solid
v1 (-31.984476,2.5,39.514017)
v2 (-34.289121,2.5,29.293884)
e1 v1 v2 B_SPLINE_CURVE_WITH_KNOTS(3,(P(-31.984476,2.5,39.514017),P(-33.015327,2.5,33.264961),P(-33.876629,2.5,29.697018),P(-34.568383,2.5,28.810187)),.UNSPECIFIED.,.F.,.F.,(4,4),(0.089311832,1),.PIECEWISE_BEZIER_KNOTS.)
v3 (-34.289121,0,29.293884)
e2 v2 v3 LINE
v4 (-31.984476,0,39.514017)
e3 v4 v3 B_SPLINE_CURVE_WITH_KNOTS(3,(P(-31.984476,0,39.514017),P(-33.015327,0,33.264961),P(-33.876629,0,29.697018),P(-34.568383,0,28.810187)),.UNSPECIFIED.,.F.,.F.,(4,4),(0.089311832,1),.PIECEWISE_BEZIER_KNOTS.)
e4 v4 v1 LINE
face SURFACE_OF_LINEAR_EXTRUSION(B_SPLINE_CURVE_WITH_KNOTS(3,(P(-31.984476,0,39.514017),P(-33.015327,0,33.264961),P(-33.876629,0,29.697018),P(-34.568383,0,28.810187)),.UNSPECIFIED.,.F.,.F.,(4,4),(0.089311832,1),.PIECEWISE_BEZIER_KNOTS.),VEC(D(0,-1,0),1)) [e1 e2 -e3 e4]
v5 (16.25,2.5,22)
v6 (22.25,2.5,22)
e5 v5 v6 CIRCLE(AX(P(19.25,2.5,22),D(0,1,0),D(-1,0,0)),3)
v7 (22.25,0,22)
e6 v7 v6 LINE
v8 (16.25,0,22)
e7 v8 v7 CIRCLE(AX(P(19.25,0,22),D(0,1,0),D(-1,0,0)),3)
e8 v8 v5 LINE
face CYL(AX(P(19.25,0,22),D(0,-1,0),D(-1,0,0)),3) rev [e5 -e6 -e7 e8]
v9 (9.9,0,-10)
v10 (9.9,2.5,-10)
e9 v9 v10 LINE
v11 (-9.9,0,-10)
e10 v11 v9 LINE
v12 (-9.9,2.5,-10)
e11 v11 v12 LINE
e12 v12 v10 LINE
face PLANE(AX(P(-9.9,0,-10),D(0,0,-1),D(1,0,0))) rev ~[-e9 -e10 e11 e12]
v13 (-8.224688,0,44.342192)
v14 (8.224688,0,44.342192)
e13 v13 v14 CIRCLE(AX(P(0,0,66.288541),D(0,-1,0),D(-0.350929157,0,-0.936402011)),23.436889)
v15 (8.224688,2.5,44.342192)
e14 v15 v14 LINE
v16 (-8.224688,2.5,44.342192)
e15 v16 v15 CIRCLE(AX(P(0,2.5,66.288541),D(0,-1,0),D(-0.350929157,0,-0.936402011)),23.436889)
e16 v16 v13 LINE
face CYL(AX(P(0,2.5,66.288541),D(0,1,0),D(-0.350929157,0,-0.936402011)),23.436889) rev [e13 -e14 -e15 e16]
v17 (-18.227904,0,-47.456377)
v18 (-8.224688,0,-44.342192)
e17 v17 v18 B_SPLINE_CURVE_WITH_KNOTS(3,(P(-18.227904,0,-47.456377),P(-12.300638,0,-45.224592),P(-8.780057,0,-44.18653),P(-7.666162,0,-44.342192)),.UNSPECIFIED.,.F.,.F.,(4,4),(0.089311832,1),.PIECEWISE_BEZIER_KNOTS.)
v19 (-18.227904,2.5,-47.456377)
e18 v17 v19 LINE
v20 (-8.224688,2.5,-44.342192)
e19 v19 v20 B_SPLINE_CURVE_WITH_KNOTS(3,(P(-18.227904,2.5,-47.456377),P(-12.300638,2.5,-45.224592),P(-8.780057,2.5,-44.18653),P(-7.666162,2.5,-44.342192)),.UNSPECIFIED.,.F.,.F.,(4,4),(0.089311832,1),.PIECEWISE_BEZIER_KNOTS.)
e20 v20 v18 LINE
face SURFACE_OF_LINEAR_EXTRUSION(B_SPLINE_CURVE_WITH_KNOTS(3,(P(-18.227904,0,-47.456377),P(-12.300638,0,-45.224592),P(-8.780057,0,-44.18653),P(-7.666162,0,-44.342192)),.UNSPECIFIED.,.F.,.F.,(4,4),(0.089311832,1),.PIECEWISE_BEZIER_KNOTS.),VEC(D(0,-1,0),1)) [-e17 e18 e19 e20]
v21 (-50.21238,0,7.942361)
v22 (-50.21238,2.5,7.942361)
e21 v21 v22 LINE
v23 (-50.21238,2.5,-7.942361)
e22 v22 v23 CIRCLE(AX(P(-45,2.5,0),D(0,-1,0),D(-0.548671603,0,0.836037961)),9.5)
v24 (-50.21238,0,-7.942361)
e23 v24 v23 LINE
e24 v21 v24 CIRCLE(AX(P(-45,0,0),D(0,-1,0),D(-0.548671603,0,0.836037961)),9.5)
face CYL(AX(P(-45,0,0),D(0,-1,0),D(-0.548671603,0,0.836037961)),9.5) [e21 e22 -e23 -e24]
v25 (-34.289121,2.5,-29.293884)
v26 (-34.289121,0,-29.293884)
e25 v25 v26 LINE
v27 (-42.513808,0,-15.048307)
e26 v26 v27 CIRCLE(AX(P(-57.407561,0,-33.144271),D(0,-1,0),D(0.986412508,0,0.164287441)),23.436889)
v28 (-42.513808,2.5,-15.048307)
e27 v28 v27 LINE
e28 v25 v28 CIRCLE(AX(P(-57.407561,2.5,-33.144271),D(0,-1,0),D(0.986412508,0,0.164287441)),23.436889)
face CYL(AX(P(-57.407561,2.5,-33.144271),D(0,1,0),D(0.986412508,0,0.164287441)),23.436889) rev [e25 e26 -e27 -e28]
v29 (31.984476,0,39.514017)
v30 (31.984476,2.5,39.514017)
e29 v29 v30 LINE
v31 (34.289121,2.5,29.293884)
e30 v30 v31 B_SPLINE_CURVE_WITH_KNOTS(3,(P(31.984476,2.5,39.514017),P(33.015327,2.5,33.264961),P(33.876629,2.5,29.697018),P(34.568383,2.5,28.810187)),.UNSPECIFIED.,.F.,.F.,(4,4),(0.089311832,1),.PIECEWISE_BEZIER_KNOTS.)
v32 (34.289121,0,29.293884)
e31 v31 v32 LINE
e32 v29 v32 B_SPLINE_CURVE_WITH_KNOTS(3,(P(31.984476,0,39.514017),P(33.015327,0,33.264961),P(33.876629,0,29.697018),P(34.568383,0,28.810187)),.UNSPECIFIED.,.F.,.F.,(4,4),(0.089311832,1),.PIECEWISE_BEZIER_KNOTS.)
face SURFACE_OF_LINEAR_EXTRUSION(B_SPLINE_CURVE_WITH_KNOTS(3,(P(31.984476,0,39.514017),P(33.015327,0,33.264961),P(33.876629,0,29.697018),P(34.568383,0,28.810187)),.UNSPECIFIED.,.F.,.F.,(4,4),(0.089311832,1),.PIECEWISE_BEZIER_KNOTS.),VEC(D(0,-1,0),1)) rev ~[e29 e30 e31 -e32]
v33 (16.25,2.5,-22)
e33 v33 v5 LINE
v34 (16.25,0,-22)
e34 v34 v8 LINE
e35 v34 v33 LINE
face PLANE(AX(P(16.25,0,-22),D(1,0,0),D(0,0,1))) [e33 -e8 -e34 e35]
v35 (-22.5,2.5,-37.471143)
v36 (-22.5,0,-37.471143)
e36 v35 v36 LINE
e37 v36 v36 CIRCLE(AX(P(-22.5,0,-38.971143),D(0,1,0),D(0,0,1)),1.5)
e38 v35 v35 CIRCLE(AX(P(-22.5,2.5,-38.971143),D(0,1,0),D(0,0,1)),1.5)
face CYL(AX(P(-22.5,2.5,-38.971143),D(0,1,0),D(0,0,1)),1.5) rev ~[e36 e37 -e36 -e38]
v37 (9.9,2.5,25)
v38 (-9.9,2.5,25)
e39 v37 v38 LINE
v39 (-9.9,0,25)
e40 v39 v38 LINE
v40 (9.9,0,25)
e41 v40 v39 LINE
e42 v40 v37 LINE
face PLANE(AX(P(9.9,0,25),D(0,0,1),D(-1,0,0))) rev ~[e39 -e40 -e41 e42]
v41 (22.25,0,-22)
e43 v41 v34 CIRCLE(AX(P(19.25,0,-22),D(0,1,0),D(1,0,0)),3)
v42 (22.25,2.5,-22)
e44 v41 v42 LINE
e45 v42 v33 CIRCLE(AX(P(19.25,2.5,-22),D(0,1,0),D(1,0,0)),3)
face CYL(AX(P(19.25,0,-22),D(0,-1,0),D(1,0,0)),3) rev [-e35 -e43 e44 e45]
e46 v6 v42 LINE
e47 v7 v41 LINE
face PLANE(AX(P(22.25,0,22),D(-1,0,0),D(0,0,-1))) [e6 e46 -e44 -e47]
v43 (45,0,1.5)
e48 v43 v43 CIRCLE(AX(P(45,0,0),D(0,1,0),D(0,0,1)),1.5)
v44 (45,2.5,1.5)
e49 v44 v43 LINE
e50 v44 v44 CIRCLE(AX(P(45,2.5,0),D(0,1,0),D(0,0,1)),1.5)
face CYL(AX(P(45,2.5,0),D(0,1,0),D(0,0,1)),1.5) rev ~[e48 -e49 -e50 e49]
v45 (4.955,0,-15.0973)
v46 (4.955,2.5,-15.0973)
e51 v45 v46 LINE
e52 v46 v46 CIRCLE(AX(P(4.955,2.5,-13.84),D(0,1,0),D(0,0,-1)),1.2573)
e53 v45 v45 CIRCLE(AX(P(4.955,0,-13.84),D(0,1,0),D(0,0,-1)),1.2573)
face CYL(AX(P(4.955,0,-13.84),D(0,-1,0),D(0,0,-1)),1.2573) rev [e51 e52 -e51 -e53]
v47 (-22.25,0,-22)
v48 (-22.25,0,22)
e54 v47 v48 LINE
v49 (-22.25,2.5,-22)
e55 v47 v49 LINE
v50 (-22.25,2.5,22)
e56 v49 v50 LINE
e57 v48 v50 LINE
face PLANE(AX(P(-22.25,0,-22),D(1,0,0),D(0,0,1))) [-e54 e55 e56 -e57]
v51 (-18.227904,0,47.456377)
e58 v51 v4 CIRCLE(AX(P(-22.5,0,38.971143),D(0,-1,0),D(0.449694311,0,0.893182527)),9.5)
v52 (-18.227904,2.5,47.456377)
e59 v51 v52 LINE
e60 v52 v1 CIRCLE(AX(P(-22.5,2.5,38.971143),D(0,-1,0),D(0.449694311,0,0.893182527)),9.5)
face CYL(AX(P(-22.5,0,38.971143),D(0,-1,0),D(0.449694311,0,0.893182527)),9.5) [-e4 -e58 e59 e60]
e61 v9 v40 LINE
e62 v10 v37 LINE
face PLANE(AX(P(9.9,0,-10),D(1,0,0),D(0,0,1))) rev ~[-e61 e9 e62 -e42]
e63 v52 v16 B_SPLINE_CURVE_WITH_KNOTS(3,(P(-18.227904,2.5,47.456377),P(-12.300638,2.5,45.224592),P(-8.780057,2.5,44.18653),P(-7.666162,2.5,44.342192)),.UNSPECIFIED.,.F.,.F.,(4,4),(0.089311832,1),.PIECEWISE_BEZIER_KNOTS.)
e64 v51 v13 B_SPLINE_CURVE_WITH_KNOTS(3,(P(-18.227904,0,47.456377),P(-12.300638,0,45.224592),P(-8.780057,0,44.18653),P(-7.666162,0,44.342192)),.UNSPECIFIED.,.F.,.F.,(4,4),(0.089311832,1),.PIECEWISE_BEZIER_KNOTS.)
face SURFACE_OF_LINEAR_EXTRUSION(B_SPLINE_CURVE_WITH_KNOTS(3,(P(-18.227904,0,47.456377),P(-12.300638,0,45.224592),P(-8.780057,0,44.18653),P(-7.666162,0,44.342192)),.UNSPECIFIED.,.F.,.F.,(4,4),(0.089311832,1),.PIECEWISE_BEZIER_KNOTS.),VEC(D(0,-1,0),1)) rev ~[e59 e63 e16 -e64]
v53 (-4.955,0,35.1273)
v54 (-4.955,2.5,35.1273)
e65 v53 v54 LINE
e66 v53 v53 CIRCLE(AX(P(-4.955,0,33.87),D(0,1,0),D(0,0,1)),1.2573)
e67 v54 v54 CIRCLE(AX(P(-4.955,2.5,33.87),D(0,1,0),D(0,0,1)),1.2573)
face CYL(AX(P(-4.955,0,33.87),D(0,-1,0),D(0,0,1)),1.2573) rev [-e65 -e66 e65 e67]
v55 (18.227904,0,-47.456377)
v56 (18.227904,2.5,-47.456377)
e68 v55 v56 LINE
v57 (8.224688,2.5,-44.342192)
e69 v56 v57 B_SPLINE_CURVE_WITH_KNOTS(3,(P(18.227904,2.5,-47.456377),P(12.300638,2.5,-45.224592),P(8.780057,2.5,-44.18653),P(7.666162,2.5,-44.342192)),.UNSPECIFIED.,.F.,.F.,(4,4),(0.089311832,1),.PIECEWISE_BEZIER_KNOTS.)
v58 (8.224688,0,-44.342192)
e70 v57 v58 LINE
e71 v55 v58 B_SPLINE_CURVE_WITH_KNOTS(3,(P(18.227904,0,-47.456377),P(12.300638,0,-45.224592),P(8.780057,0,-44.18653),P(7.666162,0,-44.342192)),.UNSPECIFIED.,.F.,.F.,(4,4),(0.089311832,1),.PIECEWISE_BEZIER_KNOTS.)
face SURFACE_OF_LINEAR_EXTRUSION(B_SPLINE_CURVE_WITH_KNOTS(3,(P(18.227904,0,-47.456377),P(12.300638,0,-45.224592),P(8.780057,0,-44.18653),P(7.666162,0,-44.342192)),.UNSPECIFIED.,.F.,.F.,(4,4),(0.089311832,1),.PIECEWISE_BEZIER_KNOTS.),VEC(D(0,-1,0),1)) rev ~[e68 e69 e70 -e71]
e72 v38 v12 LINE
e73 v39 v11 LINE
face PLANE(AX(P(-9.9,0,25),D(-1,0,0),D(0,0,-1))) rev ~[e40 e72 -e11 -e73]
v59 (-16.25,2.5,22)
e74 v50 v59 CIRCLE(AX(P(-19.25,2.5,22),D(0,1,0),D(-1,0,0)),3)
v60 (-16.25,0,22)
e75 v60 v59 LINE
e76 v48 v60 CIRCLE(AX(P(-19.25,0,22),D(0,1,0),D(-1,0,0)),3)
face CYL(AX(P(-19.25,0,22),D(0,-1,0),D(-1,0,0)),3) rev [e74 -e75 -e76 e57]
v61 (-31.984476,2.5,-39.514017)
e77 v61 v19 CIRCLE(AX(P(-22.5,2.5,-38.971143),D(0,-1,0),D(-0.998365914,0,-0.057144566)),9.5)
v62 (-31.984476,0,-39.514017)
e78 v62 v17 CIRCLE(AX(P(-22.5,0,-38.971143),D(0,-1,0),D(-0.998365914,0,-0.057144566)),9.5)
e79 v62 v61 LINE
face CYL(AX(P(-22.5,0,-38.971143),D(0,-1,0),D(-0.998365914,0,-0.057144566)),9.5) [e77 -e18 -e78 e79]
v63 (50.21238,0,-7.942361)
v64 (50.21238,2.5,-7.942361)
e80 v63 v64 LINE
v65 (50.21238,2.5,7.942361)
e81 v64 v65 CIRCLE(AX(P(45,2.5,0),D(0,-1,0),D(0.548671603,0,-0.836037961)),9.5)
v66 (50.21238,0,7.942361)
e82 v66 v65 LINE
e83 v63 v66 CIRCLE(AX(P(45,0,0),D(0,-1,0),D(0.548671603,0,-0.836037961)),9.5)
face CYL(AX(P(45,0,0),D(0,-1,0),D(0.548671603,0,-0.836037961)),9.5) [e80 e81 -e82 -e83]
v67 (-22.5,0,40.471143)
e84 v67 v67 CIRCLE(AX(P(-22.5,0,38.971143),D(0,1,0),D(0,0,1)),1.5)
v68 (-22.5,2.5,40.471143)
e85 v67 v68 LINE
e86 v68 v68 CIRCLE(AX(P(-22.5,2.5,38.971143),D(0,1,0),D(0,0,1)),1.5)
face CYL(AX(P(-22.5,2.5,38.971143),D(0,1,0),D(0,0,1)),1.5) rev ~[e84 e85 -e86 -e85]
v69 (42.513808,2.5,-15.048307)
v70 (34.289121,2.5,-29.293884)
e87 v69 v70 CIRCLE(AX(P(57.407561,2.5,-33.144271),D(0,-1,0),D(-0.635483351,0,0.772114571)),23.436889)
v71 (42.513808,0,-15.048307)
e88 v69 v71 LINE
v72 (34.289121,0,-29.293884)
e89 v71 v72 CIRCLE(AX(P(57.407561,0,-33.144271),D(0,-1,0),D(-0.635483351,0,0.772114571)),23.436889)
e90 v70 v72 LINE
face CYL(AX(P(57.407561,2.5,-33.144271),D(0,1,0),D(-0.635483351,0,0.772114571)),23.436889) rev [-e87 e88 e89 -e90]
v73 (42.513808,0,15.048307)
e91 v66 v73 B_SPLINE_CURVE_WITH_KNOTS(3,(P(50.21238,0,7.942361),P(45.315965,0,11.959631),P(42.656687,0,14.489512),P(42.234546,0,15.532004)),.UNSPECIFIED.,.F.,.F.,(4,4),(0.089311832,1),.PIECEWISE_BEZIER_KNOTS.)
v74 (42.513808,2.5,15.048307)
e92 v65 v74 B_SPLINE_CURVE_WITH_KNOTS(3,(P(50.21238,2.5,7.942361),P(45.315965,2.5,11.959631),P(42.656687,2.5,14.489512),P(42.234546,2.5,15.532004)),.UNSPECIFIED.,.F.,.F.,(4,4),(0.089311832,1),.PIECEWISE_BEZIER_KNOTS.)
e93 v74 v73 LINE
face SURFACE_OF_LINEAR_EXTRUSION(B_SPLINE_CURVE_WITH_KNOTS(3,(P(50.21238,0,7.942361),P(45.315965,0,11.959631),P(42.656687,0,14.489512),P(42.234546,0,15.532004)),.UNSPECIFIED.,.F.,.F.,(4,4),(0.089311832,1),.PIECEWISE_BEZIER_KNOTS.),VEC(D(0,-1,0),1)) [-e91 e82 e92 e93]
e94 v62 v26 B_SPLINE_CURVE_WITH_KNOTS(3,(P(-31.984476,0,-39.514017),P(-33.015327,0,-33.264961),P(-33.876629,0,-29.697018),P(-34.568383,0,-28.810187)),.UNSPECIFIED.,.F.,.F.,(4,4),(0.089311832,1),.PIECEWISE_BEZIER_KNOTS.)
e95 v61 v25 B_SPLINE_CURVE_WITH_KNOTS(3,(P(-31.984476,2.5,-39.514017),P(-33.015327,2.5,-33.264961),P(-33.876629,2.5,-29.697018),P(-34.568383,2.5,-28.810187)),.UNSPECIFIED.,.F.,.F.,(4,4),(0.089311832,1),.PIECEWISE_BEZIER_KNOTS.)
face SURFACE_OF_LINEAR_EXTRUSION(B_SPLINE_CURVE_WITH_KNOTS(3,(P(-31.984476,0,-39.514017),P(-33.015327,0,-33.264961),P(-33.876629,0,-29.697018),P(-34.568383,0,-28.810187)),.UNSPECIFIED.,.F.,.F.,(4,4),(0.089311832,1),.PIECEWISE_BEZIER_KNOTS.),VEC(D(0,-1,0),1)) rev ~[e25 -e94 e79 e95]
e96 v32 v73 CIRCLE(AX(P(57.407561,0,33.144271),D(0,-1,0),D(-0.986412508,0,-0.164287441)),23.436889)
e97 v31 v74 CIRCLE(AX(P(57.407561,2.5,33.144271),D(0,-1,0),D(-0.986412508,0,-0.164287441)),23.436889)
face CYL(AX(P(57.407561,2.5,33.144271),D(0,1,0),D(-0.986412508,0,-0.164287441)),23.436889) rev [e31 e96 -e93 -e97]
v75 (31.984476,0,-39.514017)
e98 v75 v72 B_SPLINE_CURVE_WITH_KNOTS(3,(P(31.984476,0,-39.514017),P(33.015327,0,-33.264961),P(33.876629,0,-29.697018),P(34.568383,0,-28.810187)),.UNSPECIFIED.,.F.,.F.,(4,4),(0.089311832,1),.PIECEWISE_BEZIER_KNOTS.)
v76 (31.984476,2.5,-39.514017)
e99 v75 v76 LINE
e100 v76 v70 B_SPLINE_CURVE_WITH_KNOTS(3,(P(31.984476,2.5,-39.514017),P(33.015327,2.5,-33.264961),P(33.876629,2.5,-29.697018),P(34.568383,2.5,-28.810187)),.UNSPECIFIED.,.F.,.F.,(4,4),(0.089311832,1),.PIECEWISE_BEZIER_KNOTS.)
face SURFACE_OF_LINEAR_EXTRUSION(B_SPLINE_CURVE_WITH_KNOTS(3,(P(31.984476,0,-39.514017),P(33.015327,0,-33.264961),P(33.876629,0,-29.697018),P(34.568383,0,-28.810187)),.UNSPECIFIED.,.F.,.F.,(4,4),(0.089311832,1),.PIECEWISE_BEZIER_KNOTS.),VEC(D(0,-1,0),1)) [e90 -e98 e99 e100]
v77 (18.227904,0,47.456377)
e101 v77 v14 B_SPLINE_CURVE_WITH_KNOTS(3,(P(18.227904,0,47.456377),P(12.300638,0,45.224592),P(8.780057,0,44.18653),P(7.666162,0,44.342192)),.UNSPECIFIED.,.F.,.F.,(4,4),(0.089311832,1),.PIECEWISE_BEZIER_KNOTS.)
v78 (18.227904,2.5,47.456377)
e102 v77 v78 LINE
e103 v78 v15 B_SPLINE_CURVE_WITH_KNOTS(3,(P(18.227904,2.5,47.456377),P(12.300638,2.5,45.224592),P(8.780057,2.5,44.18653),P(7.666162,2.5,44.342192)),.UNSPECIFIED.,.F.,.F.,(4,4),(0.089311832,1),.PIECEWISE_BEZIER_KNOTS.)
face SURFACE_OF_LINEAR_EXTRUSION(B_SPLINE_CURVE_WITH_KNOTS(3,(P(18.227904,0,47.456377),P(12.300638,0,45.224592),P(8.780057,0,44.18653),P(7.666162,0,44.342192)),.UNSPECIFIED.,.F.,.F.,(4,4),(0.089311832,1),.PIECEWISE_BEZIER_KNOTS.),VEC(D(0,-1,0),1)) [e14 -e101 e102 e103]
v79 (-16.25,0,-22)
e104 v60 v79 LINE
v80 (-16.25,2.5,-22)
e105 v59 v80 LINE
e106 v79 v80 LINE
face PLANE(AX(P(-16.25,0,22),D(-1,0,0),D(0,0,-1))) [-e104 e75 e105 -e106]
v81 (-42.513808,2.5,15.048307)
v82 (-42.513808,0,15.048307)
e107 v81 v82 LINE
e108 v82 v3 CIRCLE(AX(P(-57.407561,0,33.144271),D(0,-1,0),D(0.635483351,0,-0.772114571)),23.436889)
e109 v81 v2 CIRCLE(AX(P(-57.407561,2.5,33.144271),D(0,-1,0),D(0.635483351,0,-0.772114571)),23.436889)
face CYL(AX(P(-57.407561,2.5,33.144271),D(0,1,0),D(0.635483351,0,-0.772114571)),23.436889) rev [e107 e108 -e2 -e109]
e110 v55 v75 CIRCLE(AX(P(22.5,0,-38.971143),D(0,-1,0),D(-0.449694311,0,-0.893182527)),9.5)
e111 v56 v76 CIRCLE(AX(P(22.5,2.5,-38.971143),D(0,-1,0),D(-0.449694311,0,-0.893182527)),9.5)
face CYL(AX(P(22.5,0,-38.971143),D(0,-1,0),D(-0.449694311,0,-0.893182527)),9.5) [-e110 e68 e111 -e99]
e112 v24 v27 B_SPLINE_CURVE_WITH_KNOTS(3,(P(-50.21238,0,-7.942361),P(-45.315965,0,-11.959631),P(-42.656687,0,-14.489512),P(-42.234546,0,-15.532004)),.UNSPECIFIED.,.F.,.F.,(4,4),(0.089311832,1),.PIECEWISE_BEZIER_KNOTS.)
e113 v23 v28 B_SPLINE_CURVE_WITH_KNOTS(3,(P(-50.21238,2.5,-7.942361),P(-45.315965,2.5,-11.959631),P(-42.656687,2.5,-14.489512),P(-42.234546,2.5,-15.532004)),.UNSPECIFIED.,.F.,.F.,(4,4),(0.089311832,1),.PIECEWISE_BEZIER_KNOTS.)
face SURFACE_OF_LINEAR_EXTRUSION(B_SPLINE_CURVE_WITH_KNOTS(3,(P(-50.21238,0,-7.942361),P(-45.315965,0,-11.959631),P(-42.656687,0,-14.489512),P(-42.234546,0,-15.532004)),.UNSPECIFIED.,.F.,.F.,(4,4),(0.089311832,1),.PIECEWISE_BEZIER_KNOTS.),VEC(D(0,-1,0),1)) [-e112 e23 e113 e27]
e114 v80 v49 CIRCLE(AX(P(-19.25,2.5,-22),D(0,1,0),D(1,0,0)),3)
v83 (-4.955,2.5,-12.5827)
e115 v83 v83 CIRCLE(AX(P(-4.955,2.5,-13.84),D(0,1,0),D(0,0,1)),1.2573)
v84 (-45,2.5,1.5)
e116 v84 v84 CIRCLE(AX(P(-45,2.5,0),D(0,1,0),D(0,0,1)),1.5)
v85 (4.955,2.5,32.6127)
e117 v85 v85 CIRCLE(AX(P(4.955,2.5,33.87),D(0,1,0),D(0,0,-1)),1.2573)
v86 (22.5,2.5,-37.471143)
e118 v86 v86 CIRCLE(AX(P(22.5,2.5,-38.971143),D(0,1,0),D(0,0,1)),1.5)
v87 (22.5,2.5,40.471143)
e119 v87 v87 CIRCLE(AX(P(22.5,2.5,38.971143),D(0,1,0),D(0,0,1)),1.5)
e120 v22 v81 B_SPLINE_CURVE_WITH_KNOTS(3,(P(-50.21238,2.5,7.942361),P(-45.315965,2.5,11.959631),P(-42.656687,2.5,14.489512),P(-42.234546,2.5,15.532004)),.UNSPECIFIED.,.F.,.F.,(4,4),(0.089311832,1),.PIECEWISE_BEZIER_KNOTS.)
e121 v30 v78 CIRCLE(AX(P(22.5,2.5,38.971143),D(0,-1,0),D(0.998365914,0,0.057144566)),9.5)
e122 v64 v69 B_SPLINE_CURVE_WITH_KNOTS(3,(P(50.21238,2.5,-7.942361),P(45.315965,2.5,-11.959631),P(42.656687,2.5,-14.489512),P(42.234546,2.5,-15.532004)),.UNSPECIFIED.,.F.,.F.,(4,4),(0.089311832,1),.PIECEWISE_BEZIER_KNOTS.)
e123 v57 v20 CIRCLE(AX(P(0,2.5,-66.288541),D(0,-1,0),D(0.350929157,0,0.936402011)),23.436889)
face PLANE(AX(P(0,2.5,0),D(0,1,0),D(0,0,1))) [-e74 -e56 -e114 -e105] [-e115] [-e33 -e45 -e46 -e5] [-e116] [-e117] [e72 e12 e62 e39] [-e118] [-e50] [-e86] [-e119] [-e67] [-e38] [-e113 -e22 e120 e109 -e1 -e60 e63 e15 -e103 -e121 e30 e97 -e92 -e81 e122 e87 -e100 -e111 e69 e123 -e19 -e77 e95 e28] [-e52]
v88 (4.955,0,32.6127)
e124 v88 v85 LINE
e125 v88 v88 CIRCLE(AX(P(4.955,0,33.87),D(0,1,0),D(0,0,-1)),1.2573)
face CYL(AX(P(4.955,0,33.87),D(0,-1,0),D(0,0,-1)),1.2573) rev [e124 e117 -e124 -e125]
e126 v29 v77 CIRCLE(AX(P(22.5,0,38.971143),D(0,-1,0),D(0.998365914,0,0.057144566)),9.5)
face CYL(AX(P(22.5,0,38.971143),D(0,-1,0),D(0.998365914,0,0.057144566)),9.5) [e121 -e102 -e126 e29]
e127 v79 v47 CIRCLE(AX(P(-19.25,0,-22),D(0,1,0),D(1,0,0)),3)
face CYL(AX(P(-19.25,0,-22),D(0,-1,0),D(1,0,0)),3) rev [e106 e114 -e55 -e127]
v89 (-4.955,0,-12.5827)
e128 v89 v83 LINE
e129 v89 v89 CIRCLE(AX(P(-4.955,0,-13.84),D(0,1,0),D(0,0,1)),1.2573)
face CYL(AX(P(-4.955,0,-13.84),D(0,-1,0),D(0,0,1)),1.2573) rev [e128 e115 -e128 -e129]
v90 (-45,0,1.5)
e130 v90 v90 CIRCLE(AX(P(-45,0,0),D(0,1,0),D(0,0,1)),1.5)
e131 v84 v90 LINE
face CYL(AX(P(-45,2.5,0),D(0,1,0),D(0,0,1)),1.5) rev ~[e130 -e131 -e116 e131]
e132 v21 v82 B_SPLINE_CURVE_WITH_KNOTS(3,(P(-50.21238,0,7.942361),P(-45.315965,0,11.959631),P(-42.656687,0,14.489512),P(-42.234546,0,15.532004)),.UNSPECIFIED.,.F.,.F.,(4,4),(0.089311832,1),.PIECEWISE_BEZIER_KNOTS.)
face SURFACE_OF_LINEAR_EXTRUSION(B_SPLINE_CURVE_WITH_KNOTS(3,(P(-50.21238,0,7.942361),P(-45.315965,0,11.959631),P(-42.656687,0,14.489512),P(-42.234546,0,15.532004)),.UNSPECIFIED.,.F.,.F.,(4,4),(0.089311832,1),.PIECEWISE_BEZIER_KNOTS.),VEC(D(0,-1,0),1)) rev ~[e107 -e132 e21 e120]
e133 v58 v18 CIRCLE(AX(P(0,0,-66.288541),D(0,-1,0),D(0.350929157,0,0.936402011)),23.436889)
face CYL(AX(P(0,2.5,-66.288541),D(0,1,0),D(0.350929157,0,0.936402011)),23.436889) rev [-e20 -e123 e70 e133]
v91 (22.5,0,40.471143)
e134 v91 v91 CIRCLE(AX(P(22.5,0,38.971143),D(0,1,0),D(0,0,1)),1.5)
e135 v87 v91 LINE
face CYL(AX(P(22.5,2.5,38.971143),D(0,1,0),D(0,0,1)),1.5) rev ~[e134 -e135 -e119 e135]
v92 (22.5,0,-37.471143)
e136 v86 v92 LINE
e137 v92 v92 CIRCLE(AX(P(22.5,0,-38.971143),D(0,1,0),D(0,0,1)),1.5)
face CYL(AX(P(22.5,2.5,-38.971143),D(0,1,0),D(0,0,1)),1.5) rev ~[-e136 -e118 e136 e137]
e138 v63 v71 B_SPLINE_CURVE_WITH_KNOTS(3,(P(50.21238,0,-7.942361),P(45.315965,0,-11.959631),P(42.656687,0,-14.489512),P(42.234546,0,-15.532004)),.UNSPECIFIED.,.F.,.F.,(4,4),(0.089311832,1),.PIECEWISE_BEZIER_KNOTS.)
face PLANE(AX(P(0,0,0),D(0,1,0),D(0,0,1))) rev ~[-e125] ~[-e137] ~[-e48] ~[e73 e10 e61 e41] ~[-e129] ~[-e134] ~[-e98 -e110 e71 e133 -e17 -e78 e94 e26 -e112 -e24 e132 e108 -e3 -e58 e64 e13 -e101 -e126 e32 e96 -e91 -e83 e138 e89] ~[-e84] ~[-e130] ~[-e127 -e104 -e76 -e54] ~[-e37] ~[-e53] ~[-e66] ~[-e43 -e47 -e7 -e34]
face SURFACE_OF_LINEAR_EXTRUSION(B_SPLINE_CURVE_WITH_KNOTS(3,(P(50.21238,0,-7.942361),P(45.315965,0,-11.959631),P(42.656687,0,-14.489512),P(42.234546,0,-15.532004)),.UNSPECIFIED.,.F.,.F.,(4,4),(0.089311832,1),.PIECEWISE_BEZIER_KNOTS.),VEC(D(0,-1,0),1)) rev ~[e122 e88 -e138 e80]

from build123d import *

# Parameters (mm, degrees)
SKETCH1_R           = 45
SKETCH1_R_2         = 1.2573
BOSS_EXTRUDE2_DEPTH = 2.5
BOSS_EXTRUDE4_START = -2.5
BOSS_EXTRUDE4_DEPTH = 2.5
CIRPATTERN1_COUNT   = 6
CUT_EXTRUDE2_DEPTH  = 2.5
SKETCH6_R           = 1.5
CUT_EXTRUDE3_DEPTH  = 5


with BuildPart() as part:
    # Sketch1 → Boss-Extrude2 (new body)
    with BuildSketch(Plane(origin=(0, 0, 0), x_dir=(1, 0, 0), z_dir=(0, 1, 0))):
        with Locations(Location((0, 0, 0), (0, 0, 270))):
            Circle(SKETCH1_R)
        with Locations(Location((-4.955, -33.87, 0), (0, 0, 270))):
            Circle(SKETCH1_R_2, mode=Mode.SUBTRACT)
        with Locations(Location((4.955, -33.87, 0), (0, 0, 90))):
            Circle(SKETCH1_R_2, mode=Mode.SUBTRACT)
        with Locations(Location((-4.955, 13.84, 0), (0, 0, 270))):
            Circle(SKETCH1_R_2, mode=Mode.SUBTRACT)
        with Locations(Location((4.955, 13.84, 0), (0, 0, 90))):
            Circle(SKETCH1_R_2, mode=Mode.SUBTRACT)
        Polygon((-9.9, -25), (-9.9, 0), (-9.9, 10), (9.9, 10), (9.9, 0), (9.9, -25), align=None, mode=Mode.SUBTRACT)
        with BuildLine():
            Line((-22.25, 22), (-22.25, -22))
            ThreePointArc((-22.25, -22), (-19.25, -25), (-16.25, -22))
            Line((-16.25, -22), (-16.25, 22))
            ThreePointArc((-16.25, 22), (-19.25, 25), (-22.25, 22))
        make_face(mode=Mode.SUBTRACT)
        with BuildLine():
            Line((16.25, 22), (16.25, -22))
            ThreePointArc((16.25, -22), (19.25, -25), (22.25, -22))
            Line((22.25, -22), (22.25, 22))
            ThreePointArc((22.25, 22), (19.25, 25), (16.25, 22))
        make_face(mode=Mode.SUBTRACT)
    extrude(amount=BOSS_EXTRUDE2_DEPTH)

    # Sketch2 → Boss-Extrude4 (add)
    with BuildSketch(Plane(origin=(0, 2.5, 0), x_dir=(1, 0, 0), z_dir=(0, 1, 0)).offset(BOSS_EXTRUDE4_START)):
        with BuildLine():
            ThreePointArc((-42.23454554, 15.532004475), (-45, 0), (-42.23454554, -15.532004475))
            add(Edge.make_bspline(
                [(-50.212380227, -7.942360629), (-45.3159648, -11.95963121), (-42.656686571, -14.489512492), (-42.23454554, -15.532004475)],
                knots=[0.089311832, 0.089311832, 0.089311832, 0.089311832, 1, 1, 1, 1], degree=3))
            ThreePointArc((-50.212380227, -7.942360629), (-54.5, 0), (-50.212380227, 7.942360629))
            add(Edge.make_bspline(
                [(-50.212380227, 7.942360629), (-45.3159648, 11.95963121), (-42.656686571, 14.489512492), (-42.23454554, 15.532004475)],
                knots=[0.089311832, 0.089311832, 0.089311832, 0.089311832, 1, 1, 1, 1], degree=3))
        make_face()
    boss_extrude4 = extrude(amount=BOSS_EXTRUDE4_DEPTH)

    # CirPattern1: Boss-Extrude4 ×6 about axis
    cirpattern1_axis = Axis((0, 2.5, 0), (0, 1, 0))
    for i in range(1, CIRPATTERN1_COUNT):
        add(boss_extrude4.rotate(cirpattern1_axis, i * 360 / CIRPATTERN1_COUNT))

    # Sketch5 → Cut-Extrude2 (cut)
    with BuildSketch(Plane(origin=(0, 2.5, 0), x_dir=(1, 0, 0), z_dir=(0, 1, 0))):
        with BuildLine():
            Line((-8.22468756, 44.342191593), (0, 46.65782144))
            Line((0, 46.65782144), (8.22468756, 44.342191593))
            ThreePointArc((8.22468756, 44.342191593), (0, 42.851652617), (-8.22468756, 44.342191593))
        make_face()
        with BuildLine():
            Line((40.406858652, 23.32891072), (42.513808159, 15.048307431))
            ThreePointArc((42.513808159, 15.048307431), (37.11061976, 21.425826308), (34.289120599, 29.293884161))
            Line((34.289120599, 29.293884161), (40.406858652, 23.32891072))
        make_face()
        with BuildLine():
            Line((40.406858652, -23.32891072), (34.289120599, -29.293884161))
            ThreePointArc((34.289120599, -29.293884161), (37.11061976, -21.425826308), (42.513808159, -15.048307431))
            Line((42.513808159, -15.048307431), (40.406858652, -23.32891072))
        make_face()
        with BuildLine():
            Line((0, -46.65782144), (-8.22468756, -44.342191593))
            ThreePointArc((-8.22468756, -44.342191593), (0, -42.851652617), (8.22468756, -44.342191593))
            Line((8.22468756, -44.342191593), (0, -46.65782144))
        make_face()
        with BuildLine():
            Line((-40.406858652, -23.32891072), (-42.513808159, -15.048307431))
            ThreePointArc((-42.513808159, -15.048307431), (-37.11061976, -21.425826308), (-34.289120599, -29.293884161))
            Line((-34.289120599, -29.293884161), (-40.406858652, -23.32891072))
        make_face()
        with BuildLine():
            Line((-40.406858652, 23.32891072), (-34.289120599, 29.293884161))
            ThreePointArc((-34.289120599, 29.293884161), (-37.11061976, 21.425826308), (-42.513808159, 15.048307431))
            Line((-42.513808159, 15.048307431), (-40.406858652, 23.32891072))
        make_face()
    extrude(amount=-CUT_EXTRUDE2_DEPTH, mode=Mode.SUBTRACT)

    # Sketch6 → Cut-Extrude3 (cut, symmetric)
    with BuildSketch(Plane(origin=(0, 2.5, 0), x_dir=(1, 0, 0), z_dir=(0, 1, 0))):
        with Locations(Location((-45, 0, 0), (0, 0, 270))):
            Circle(SKETCH6_R)
        with Locations(Location((-22.5, 38.97114317, 0), (0, 0, 270))):
            Circle(SKETCH6_R)
        with Locations(Location((22.5, 38.97114317, 0), (0, 0, 270))):
            Circle(SKETCH6_R)
        with Locations(Location((45, 0, 0), (0, 0, 270))):
            Circle(SKETCH6_R)
        with Locations(Location((22.5, -38.97114317, 0), (0, 0, 270))):
            Circle(SKETCH6_R)
        with Locations(Location((-22.5, -38.97114317, 0), (0, 0, 270))):
            Circle(SKETCH6_R)
    extrude(amount=CUT_EXTRUDE3_DEPTH, both=True, mode=Mode.SUBTRACT)


solid = part.part
